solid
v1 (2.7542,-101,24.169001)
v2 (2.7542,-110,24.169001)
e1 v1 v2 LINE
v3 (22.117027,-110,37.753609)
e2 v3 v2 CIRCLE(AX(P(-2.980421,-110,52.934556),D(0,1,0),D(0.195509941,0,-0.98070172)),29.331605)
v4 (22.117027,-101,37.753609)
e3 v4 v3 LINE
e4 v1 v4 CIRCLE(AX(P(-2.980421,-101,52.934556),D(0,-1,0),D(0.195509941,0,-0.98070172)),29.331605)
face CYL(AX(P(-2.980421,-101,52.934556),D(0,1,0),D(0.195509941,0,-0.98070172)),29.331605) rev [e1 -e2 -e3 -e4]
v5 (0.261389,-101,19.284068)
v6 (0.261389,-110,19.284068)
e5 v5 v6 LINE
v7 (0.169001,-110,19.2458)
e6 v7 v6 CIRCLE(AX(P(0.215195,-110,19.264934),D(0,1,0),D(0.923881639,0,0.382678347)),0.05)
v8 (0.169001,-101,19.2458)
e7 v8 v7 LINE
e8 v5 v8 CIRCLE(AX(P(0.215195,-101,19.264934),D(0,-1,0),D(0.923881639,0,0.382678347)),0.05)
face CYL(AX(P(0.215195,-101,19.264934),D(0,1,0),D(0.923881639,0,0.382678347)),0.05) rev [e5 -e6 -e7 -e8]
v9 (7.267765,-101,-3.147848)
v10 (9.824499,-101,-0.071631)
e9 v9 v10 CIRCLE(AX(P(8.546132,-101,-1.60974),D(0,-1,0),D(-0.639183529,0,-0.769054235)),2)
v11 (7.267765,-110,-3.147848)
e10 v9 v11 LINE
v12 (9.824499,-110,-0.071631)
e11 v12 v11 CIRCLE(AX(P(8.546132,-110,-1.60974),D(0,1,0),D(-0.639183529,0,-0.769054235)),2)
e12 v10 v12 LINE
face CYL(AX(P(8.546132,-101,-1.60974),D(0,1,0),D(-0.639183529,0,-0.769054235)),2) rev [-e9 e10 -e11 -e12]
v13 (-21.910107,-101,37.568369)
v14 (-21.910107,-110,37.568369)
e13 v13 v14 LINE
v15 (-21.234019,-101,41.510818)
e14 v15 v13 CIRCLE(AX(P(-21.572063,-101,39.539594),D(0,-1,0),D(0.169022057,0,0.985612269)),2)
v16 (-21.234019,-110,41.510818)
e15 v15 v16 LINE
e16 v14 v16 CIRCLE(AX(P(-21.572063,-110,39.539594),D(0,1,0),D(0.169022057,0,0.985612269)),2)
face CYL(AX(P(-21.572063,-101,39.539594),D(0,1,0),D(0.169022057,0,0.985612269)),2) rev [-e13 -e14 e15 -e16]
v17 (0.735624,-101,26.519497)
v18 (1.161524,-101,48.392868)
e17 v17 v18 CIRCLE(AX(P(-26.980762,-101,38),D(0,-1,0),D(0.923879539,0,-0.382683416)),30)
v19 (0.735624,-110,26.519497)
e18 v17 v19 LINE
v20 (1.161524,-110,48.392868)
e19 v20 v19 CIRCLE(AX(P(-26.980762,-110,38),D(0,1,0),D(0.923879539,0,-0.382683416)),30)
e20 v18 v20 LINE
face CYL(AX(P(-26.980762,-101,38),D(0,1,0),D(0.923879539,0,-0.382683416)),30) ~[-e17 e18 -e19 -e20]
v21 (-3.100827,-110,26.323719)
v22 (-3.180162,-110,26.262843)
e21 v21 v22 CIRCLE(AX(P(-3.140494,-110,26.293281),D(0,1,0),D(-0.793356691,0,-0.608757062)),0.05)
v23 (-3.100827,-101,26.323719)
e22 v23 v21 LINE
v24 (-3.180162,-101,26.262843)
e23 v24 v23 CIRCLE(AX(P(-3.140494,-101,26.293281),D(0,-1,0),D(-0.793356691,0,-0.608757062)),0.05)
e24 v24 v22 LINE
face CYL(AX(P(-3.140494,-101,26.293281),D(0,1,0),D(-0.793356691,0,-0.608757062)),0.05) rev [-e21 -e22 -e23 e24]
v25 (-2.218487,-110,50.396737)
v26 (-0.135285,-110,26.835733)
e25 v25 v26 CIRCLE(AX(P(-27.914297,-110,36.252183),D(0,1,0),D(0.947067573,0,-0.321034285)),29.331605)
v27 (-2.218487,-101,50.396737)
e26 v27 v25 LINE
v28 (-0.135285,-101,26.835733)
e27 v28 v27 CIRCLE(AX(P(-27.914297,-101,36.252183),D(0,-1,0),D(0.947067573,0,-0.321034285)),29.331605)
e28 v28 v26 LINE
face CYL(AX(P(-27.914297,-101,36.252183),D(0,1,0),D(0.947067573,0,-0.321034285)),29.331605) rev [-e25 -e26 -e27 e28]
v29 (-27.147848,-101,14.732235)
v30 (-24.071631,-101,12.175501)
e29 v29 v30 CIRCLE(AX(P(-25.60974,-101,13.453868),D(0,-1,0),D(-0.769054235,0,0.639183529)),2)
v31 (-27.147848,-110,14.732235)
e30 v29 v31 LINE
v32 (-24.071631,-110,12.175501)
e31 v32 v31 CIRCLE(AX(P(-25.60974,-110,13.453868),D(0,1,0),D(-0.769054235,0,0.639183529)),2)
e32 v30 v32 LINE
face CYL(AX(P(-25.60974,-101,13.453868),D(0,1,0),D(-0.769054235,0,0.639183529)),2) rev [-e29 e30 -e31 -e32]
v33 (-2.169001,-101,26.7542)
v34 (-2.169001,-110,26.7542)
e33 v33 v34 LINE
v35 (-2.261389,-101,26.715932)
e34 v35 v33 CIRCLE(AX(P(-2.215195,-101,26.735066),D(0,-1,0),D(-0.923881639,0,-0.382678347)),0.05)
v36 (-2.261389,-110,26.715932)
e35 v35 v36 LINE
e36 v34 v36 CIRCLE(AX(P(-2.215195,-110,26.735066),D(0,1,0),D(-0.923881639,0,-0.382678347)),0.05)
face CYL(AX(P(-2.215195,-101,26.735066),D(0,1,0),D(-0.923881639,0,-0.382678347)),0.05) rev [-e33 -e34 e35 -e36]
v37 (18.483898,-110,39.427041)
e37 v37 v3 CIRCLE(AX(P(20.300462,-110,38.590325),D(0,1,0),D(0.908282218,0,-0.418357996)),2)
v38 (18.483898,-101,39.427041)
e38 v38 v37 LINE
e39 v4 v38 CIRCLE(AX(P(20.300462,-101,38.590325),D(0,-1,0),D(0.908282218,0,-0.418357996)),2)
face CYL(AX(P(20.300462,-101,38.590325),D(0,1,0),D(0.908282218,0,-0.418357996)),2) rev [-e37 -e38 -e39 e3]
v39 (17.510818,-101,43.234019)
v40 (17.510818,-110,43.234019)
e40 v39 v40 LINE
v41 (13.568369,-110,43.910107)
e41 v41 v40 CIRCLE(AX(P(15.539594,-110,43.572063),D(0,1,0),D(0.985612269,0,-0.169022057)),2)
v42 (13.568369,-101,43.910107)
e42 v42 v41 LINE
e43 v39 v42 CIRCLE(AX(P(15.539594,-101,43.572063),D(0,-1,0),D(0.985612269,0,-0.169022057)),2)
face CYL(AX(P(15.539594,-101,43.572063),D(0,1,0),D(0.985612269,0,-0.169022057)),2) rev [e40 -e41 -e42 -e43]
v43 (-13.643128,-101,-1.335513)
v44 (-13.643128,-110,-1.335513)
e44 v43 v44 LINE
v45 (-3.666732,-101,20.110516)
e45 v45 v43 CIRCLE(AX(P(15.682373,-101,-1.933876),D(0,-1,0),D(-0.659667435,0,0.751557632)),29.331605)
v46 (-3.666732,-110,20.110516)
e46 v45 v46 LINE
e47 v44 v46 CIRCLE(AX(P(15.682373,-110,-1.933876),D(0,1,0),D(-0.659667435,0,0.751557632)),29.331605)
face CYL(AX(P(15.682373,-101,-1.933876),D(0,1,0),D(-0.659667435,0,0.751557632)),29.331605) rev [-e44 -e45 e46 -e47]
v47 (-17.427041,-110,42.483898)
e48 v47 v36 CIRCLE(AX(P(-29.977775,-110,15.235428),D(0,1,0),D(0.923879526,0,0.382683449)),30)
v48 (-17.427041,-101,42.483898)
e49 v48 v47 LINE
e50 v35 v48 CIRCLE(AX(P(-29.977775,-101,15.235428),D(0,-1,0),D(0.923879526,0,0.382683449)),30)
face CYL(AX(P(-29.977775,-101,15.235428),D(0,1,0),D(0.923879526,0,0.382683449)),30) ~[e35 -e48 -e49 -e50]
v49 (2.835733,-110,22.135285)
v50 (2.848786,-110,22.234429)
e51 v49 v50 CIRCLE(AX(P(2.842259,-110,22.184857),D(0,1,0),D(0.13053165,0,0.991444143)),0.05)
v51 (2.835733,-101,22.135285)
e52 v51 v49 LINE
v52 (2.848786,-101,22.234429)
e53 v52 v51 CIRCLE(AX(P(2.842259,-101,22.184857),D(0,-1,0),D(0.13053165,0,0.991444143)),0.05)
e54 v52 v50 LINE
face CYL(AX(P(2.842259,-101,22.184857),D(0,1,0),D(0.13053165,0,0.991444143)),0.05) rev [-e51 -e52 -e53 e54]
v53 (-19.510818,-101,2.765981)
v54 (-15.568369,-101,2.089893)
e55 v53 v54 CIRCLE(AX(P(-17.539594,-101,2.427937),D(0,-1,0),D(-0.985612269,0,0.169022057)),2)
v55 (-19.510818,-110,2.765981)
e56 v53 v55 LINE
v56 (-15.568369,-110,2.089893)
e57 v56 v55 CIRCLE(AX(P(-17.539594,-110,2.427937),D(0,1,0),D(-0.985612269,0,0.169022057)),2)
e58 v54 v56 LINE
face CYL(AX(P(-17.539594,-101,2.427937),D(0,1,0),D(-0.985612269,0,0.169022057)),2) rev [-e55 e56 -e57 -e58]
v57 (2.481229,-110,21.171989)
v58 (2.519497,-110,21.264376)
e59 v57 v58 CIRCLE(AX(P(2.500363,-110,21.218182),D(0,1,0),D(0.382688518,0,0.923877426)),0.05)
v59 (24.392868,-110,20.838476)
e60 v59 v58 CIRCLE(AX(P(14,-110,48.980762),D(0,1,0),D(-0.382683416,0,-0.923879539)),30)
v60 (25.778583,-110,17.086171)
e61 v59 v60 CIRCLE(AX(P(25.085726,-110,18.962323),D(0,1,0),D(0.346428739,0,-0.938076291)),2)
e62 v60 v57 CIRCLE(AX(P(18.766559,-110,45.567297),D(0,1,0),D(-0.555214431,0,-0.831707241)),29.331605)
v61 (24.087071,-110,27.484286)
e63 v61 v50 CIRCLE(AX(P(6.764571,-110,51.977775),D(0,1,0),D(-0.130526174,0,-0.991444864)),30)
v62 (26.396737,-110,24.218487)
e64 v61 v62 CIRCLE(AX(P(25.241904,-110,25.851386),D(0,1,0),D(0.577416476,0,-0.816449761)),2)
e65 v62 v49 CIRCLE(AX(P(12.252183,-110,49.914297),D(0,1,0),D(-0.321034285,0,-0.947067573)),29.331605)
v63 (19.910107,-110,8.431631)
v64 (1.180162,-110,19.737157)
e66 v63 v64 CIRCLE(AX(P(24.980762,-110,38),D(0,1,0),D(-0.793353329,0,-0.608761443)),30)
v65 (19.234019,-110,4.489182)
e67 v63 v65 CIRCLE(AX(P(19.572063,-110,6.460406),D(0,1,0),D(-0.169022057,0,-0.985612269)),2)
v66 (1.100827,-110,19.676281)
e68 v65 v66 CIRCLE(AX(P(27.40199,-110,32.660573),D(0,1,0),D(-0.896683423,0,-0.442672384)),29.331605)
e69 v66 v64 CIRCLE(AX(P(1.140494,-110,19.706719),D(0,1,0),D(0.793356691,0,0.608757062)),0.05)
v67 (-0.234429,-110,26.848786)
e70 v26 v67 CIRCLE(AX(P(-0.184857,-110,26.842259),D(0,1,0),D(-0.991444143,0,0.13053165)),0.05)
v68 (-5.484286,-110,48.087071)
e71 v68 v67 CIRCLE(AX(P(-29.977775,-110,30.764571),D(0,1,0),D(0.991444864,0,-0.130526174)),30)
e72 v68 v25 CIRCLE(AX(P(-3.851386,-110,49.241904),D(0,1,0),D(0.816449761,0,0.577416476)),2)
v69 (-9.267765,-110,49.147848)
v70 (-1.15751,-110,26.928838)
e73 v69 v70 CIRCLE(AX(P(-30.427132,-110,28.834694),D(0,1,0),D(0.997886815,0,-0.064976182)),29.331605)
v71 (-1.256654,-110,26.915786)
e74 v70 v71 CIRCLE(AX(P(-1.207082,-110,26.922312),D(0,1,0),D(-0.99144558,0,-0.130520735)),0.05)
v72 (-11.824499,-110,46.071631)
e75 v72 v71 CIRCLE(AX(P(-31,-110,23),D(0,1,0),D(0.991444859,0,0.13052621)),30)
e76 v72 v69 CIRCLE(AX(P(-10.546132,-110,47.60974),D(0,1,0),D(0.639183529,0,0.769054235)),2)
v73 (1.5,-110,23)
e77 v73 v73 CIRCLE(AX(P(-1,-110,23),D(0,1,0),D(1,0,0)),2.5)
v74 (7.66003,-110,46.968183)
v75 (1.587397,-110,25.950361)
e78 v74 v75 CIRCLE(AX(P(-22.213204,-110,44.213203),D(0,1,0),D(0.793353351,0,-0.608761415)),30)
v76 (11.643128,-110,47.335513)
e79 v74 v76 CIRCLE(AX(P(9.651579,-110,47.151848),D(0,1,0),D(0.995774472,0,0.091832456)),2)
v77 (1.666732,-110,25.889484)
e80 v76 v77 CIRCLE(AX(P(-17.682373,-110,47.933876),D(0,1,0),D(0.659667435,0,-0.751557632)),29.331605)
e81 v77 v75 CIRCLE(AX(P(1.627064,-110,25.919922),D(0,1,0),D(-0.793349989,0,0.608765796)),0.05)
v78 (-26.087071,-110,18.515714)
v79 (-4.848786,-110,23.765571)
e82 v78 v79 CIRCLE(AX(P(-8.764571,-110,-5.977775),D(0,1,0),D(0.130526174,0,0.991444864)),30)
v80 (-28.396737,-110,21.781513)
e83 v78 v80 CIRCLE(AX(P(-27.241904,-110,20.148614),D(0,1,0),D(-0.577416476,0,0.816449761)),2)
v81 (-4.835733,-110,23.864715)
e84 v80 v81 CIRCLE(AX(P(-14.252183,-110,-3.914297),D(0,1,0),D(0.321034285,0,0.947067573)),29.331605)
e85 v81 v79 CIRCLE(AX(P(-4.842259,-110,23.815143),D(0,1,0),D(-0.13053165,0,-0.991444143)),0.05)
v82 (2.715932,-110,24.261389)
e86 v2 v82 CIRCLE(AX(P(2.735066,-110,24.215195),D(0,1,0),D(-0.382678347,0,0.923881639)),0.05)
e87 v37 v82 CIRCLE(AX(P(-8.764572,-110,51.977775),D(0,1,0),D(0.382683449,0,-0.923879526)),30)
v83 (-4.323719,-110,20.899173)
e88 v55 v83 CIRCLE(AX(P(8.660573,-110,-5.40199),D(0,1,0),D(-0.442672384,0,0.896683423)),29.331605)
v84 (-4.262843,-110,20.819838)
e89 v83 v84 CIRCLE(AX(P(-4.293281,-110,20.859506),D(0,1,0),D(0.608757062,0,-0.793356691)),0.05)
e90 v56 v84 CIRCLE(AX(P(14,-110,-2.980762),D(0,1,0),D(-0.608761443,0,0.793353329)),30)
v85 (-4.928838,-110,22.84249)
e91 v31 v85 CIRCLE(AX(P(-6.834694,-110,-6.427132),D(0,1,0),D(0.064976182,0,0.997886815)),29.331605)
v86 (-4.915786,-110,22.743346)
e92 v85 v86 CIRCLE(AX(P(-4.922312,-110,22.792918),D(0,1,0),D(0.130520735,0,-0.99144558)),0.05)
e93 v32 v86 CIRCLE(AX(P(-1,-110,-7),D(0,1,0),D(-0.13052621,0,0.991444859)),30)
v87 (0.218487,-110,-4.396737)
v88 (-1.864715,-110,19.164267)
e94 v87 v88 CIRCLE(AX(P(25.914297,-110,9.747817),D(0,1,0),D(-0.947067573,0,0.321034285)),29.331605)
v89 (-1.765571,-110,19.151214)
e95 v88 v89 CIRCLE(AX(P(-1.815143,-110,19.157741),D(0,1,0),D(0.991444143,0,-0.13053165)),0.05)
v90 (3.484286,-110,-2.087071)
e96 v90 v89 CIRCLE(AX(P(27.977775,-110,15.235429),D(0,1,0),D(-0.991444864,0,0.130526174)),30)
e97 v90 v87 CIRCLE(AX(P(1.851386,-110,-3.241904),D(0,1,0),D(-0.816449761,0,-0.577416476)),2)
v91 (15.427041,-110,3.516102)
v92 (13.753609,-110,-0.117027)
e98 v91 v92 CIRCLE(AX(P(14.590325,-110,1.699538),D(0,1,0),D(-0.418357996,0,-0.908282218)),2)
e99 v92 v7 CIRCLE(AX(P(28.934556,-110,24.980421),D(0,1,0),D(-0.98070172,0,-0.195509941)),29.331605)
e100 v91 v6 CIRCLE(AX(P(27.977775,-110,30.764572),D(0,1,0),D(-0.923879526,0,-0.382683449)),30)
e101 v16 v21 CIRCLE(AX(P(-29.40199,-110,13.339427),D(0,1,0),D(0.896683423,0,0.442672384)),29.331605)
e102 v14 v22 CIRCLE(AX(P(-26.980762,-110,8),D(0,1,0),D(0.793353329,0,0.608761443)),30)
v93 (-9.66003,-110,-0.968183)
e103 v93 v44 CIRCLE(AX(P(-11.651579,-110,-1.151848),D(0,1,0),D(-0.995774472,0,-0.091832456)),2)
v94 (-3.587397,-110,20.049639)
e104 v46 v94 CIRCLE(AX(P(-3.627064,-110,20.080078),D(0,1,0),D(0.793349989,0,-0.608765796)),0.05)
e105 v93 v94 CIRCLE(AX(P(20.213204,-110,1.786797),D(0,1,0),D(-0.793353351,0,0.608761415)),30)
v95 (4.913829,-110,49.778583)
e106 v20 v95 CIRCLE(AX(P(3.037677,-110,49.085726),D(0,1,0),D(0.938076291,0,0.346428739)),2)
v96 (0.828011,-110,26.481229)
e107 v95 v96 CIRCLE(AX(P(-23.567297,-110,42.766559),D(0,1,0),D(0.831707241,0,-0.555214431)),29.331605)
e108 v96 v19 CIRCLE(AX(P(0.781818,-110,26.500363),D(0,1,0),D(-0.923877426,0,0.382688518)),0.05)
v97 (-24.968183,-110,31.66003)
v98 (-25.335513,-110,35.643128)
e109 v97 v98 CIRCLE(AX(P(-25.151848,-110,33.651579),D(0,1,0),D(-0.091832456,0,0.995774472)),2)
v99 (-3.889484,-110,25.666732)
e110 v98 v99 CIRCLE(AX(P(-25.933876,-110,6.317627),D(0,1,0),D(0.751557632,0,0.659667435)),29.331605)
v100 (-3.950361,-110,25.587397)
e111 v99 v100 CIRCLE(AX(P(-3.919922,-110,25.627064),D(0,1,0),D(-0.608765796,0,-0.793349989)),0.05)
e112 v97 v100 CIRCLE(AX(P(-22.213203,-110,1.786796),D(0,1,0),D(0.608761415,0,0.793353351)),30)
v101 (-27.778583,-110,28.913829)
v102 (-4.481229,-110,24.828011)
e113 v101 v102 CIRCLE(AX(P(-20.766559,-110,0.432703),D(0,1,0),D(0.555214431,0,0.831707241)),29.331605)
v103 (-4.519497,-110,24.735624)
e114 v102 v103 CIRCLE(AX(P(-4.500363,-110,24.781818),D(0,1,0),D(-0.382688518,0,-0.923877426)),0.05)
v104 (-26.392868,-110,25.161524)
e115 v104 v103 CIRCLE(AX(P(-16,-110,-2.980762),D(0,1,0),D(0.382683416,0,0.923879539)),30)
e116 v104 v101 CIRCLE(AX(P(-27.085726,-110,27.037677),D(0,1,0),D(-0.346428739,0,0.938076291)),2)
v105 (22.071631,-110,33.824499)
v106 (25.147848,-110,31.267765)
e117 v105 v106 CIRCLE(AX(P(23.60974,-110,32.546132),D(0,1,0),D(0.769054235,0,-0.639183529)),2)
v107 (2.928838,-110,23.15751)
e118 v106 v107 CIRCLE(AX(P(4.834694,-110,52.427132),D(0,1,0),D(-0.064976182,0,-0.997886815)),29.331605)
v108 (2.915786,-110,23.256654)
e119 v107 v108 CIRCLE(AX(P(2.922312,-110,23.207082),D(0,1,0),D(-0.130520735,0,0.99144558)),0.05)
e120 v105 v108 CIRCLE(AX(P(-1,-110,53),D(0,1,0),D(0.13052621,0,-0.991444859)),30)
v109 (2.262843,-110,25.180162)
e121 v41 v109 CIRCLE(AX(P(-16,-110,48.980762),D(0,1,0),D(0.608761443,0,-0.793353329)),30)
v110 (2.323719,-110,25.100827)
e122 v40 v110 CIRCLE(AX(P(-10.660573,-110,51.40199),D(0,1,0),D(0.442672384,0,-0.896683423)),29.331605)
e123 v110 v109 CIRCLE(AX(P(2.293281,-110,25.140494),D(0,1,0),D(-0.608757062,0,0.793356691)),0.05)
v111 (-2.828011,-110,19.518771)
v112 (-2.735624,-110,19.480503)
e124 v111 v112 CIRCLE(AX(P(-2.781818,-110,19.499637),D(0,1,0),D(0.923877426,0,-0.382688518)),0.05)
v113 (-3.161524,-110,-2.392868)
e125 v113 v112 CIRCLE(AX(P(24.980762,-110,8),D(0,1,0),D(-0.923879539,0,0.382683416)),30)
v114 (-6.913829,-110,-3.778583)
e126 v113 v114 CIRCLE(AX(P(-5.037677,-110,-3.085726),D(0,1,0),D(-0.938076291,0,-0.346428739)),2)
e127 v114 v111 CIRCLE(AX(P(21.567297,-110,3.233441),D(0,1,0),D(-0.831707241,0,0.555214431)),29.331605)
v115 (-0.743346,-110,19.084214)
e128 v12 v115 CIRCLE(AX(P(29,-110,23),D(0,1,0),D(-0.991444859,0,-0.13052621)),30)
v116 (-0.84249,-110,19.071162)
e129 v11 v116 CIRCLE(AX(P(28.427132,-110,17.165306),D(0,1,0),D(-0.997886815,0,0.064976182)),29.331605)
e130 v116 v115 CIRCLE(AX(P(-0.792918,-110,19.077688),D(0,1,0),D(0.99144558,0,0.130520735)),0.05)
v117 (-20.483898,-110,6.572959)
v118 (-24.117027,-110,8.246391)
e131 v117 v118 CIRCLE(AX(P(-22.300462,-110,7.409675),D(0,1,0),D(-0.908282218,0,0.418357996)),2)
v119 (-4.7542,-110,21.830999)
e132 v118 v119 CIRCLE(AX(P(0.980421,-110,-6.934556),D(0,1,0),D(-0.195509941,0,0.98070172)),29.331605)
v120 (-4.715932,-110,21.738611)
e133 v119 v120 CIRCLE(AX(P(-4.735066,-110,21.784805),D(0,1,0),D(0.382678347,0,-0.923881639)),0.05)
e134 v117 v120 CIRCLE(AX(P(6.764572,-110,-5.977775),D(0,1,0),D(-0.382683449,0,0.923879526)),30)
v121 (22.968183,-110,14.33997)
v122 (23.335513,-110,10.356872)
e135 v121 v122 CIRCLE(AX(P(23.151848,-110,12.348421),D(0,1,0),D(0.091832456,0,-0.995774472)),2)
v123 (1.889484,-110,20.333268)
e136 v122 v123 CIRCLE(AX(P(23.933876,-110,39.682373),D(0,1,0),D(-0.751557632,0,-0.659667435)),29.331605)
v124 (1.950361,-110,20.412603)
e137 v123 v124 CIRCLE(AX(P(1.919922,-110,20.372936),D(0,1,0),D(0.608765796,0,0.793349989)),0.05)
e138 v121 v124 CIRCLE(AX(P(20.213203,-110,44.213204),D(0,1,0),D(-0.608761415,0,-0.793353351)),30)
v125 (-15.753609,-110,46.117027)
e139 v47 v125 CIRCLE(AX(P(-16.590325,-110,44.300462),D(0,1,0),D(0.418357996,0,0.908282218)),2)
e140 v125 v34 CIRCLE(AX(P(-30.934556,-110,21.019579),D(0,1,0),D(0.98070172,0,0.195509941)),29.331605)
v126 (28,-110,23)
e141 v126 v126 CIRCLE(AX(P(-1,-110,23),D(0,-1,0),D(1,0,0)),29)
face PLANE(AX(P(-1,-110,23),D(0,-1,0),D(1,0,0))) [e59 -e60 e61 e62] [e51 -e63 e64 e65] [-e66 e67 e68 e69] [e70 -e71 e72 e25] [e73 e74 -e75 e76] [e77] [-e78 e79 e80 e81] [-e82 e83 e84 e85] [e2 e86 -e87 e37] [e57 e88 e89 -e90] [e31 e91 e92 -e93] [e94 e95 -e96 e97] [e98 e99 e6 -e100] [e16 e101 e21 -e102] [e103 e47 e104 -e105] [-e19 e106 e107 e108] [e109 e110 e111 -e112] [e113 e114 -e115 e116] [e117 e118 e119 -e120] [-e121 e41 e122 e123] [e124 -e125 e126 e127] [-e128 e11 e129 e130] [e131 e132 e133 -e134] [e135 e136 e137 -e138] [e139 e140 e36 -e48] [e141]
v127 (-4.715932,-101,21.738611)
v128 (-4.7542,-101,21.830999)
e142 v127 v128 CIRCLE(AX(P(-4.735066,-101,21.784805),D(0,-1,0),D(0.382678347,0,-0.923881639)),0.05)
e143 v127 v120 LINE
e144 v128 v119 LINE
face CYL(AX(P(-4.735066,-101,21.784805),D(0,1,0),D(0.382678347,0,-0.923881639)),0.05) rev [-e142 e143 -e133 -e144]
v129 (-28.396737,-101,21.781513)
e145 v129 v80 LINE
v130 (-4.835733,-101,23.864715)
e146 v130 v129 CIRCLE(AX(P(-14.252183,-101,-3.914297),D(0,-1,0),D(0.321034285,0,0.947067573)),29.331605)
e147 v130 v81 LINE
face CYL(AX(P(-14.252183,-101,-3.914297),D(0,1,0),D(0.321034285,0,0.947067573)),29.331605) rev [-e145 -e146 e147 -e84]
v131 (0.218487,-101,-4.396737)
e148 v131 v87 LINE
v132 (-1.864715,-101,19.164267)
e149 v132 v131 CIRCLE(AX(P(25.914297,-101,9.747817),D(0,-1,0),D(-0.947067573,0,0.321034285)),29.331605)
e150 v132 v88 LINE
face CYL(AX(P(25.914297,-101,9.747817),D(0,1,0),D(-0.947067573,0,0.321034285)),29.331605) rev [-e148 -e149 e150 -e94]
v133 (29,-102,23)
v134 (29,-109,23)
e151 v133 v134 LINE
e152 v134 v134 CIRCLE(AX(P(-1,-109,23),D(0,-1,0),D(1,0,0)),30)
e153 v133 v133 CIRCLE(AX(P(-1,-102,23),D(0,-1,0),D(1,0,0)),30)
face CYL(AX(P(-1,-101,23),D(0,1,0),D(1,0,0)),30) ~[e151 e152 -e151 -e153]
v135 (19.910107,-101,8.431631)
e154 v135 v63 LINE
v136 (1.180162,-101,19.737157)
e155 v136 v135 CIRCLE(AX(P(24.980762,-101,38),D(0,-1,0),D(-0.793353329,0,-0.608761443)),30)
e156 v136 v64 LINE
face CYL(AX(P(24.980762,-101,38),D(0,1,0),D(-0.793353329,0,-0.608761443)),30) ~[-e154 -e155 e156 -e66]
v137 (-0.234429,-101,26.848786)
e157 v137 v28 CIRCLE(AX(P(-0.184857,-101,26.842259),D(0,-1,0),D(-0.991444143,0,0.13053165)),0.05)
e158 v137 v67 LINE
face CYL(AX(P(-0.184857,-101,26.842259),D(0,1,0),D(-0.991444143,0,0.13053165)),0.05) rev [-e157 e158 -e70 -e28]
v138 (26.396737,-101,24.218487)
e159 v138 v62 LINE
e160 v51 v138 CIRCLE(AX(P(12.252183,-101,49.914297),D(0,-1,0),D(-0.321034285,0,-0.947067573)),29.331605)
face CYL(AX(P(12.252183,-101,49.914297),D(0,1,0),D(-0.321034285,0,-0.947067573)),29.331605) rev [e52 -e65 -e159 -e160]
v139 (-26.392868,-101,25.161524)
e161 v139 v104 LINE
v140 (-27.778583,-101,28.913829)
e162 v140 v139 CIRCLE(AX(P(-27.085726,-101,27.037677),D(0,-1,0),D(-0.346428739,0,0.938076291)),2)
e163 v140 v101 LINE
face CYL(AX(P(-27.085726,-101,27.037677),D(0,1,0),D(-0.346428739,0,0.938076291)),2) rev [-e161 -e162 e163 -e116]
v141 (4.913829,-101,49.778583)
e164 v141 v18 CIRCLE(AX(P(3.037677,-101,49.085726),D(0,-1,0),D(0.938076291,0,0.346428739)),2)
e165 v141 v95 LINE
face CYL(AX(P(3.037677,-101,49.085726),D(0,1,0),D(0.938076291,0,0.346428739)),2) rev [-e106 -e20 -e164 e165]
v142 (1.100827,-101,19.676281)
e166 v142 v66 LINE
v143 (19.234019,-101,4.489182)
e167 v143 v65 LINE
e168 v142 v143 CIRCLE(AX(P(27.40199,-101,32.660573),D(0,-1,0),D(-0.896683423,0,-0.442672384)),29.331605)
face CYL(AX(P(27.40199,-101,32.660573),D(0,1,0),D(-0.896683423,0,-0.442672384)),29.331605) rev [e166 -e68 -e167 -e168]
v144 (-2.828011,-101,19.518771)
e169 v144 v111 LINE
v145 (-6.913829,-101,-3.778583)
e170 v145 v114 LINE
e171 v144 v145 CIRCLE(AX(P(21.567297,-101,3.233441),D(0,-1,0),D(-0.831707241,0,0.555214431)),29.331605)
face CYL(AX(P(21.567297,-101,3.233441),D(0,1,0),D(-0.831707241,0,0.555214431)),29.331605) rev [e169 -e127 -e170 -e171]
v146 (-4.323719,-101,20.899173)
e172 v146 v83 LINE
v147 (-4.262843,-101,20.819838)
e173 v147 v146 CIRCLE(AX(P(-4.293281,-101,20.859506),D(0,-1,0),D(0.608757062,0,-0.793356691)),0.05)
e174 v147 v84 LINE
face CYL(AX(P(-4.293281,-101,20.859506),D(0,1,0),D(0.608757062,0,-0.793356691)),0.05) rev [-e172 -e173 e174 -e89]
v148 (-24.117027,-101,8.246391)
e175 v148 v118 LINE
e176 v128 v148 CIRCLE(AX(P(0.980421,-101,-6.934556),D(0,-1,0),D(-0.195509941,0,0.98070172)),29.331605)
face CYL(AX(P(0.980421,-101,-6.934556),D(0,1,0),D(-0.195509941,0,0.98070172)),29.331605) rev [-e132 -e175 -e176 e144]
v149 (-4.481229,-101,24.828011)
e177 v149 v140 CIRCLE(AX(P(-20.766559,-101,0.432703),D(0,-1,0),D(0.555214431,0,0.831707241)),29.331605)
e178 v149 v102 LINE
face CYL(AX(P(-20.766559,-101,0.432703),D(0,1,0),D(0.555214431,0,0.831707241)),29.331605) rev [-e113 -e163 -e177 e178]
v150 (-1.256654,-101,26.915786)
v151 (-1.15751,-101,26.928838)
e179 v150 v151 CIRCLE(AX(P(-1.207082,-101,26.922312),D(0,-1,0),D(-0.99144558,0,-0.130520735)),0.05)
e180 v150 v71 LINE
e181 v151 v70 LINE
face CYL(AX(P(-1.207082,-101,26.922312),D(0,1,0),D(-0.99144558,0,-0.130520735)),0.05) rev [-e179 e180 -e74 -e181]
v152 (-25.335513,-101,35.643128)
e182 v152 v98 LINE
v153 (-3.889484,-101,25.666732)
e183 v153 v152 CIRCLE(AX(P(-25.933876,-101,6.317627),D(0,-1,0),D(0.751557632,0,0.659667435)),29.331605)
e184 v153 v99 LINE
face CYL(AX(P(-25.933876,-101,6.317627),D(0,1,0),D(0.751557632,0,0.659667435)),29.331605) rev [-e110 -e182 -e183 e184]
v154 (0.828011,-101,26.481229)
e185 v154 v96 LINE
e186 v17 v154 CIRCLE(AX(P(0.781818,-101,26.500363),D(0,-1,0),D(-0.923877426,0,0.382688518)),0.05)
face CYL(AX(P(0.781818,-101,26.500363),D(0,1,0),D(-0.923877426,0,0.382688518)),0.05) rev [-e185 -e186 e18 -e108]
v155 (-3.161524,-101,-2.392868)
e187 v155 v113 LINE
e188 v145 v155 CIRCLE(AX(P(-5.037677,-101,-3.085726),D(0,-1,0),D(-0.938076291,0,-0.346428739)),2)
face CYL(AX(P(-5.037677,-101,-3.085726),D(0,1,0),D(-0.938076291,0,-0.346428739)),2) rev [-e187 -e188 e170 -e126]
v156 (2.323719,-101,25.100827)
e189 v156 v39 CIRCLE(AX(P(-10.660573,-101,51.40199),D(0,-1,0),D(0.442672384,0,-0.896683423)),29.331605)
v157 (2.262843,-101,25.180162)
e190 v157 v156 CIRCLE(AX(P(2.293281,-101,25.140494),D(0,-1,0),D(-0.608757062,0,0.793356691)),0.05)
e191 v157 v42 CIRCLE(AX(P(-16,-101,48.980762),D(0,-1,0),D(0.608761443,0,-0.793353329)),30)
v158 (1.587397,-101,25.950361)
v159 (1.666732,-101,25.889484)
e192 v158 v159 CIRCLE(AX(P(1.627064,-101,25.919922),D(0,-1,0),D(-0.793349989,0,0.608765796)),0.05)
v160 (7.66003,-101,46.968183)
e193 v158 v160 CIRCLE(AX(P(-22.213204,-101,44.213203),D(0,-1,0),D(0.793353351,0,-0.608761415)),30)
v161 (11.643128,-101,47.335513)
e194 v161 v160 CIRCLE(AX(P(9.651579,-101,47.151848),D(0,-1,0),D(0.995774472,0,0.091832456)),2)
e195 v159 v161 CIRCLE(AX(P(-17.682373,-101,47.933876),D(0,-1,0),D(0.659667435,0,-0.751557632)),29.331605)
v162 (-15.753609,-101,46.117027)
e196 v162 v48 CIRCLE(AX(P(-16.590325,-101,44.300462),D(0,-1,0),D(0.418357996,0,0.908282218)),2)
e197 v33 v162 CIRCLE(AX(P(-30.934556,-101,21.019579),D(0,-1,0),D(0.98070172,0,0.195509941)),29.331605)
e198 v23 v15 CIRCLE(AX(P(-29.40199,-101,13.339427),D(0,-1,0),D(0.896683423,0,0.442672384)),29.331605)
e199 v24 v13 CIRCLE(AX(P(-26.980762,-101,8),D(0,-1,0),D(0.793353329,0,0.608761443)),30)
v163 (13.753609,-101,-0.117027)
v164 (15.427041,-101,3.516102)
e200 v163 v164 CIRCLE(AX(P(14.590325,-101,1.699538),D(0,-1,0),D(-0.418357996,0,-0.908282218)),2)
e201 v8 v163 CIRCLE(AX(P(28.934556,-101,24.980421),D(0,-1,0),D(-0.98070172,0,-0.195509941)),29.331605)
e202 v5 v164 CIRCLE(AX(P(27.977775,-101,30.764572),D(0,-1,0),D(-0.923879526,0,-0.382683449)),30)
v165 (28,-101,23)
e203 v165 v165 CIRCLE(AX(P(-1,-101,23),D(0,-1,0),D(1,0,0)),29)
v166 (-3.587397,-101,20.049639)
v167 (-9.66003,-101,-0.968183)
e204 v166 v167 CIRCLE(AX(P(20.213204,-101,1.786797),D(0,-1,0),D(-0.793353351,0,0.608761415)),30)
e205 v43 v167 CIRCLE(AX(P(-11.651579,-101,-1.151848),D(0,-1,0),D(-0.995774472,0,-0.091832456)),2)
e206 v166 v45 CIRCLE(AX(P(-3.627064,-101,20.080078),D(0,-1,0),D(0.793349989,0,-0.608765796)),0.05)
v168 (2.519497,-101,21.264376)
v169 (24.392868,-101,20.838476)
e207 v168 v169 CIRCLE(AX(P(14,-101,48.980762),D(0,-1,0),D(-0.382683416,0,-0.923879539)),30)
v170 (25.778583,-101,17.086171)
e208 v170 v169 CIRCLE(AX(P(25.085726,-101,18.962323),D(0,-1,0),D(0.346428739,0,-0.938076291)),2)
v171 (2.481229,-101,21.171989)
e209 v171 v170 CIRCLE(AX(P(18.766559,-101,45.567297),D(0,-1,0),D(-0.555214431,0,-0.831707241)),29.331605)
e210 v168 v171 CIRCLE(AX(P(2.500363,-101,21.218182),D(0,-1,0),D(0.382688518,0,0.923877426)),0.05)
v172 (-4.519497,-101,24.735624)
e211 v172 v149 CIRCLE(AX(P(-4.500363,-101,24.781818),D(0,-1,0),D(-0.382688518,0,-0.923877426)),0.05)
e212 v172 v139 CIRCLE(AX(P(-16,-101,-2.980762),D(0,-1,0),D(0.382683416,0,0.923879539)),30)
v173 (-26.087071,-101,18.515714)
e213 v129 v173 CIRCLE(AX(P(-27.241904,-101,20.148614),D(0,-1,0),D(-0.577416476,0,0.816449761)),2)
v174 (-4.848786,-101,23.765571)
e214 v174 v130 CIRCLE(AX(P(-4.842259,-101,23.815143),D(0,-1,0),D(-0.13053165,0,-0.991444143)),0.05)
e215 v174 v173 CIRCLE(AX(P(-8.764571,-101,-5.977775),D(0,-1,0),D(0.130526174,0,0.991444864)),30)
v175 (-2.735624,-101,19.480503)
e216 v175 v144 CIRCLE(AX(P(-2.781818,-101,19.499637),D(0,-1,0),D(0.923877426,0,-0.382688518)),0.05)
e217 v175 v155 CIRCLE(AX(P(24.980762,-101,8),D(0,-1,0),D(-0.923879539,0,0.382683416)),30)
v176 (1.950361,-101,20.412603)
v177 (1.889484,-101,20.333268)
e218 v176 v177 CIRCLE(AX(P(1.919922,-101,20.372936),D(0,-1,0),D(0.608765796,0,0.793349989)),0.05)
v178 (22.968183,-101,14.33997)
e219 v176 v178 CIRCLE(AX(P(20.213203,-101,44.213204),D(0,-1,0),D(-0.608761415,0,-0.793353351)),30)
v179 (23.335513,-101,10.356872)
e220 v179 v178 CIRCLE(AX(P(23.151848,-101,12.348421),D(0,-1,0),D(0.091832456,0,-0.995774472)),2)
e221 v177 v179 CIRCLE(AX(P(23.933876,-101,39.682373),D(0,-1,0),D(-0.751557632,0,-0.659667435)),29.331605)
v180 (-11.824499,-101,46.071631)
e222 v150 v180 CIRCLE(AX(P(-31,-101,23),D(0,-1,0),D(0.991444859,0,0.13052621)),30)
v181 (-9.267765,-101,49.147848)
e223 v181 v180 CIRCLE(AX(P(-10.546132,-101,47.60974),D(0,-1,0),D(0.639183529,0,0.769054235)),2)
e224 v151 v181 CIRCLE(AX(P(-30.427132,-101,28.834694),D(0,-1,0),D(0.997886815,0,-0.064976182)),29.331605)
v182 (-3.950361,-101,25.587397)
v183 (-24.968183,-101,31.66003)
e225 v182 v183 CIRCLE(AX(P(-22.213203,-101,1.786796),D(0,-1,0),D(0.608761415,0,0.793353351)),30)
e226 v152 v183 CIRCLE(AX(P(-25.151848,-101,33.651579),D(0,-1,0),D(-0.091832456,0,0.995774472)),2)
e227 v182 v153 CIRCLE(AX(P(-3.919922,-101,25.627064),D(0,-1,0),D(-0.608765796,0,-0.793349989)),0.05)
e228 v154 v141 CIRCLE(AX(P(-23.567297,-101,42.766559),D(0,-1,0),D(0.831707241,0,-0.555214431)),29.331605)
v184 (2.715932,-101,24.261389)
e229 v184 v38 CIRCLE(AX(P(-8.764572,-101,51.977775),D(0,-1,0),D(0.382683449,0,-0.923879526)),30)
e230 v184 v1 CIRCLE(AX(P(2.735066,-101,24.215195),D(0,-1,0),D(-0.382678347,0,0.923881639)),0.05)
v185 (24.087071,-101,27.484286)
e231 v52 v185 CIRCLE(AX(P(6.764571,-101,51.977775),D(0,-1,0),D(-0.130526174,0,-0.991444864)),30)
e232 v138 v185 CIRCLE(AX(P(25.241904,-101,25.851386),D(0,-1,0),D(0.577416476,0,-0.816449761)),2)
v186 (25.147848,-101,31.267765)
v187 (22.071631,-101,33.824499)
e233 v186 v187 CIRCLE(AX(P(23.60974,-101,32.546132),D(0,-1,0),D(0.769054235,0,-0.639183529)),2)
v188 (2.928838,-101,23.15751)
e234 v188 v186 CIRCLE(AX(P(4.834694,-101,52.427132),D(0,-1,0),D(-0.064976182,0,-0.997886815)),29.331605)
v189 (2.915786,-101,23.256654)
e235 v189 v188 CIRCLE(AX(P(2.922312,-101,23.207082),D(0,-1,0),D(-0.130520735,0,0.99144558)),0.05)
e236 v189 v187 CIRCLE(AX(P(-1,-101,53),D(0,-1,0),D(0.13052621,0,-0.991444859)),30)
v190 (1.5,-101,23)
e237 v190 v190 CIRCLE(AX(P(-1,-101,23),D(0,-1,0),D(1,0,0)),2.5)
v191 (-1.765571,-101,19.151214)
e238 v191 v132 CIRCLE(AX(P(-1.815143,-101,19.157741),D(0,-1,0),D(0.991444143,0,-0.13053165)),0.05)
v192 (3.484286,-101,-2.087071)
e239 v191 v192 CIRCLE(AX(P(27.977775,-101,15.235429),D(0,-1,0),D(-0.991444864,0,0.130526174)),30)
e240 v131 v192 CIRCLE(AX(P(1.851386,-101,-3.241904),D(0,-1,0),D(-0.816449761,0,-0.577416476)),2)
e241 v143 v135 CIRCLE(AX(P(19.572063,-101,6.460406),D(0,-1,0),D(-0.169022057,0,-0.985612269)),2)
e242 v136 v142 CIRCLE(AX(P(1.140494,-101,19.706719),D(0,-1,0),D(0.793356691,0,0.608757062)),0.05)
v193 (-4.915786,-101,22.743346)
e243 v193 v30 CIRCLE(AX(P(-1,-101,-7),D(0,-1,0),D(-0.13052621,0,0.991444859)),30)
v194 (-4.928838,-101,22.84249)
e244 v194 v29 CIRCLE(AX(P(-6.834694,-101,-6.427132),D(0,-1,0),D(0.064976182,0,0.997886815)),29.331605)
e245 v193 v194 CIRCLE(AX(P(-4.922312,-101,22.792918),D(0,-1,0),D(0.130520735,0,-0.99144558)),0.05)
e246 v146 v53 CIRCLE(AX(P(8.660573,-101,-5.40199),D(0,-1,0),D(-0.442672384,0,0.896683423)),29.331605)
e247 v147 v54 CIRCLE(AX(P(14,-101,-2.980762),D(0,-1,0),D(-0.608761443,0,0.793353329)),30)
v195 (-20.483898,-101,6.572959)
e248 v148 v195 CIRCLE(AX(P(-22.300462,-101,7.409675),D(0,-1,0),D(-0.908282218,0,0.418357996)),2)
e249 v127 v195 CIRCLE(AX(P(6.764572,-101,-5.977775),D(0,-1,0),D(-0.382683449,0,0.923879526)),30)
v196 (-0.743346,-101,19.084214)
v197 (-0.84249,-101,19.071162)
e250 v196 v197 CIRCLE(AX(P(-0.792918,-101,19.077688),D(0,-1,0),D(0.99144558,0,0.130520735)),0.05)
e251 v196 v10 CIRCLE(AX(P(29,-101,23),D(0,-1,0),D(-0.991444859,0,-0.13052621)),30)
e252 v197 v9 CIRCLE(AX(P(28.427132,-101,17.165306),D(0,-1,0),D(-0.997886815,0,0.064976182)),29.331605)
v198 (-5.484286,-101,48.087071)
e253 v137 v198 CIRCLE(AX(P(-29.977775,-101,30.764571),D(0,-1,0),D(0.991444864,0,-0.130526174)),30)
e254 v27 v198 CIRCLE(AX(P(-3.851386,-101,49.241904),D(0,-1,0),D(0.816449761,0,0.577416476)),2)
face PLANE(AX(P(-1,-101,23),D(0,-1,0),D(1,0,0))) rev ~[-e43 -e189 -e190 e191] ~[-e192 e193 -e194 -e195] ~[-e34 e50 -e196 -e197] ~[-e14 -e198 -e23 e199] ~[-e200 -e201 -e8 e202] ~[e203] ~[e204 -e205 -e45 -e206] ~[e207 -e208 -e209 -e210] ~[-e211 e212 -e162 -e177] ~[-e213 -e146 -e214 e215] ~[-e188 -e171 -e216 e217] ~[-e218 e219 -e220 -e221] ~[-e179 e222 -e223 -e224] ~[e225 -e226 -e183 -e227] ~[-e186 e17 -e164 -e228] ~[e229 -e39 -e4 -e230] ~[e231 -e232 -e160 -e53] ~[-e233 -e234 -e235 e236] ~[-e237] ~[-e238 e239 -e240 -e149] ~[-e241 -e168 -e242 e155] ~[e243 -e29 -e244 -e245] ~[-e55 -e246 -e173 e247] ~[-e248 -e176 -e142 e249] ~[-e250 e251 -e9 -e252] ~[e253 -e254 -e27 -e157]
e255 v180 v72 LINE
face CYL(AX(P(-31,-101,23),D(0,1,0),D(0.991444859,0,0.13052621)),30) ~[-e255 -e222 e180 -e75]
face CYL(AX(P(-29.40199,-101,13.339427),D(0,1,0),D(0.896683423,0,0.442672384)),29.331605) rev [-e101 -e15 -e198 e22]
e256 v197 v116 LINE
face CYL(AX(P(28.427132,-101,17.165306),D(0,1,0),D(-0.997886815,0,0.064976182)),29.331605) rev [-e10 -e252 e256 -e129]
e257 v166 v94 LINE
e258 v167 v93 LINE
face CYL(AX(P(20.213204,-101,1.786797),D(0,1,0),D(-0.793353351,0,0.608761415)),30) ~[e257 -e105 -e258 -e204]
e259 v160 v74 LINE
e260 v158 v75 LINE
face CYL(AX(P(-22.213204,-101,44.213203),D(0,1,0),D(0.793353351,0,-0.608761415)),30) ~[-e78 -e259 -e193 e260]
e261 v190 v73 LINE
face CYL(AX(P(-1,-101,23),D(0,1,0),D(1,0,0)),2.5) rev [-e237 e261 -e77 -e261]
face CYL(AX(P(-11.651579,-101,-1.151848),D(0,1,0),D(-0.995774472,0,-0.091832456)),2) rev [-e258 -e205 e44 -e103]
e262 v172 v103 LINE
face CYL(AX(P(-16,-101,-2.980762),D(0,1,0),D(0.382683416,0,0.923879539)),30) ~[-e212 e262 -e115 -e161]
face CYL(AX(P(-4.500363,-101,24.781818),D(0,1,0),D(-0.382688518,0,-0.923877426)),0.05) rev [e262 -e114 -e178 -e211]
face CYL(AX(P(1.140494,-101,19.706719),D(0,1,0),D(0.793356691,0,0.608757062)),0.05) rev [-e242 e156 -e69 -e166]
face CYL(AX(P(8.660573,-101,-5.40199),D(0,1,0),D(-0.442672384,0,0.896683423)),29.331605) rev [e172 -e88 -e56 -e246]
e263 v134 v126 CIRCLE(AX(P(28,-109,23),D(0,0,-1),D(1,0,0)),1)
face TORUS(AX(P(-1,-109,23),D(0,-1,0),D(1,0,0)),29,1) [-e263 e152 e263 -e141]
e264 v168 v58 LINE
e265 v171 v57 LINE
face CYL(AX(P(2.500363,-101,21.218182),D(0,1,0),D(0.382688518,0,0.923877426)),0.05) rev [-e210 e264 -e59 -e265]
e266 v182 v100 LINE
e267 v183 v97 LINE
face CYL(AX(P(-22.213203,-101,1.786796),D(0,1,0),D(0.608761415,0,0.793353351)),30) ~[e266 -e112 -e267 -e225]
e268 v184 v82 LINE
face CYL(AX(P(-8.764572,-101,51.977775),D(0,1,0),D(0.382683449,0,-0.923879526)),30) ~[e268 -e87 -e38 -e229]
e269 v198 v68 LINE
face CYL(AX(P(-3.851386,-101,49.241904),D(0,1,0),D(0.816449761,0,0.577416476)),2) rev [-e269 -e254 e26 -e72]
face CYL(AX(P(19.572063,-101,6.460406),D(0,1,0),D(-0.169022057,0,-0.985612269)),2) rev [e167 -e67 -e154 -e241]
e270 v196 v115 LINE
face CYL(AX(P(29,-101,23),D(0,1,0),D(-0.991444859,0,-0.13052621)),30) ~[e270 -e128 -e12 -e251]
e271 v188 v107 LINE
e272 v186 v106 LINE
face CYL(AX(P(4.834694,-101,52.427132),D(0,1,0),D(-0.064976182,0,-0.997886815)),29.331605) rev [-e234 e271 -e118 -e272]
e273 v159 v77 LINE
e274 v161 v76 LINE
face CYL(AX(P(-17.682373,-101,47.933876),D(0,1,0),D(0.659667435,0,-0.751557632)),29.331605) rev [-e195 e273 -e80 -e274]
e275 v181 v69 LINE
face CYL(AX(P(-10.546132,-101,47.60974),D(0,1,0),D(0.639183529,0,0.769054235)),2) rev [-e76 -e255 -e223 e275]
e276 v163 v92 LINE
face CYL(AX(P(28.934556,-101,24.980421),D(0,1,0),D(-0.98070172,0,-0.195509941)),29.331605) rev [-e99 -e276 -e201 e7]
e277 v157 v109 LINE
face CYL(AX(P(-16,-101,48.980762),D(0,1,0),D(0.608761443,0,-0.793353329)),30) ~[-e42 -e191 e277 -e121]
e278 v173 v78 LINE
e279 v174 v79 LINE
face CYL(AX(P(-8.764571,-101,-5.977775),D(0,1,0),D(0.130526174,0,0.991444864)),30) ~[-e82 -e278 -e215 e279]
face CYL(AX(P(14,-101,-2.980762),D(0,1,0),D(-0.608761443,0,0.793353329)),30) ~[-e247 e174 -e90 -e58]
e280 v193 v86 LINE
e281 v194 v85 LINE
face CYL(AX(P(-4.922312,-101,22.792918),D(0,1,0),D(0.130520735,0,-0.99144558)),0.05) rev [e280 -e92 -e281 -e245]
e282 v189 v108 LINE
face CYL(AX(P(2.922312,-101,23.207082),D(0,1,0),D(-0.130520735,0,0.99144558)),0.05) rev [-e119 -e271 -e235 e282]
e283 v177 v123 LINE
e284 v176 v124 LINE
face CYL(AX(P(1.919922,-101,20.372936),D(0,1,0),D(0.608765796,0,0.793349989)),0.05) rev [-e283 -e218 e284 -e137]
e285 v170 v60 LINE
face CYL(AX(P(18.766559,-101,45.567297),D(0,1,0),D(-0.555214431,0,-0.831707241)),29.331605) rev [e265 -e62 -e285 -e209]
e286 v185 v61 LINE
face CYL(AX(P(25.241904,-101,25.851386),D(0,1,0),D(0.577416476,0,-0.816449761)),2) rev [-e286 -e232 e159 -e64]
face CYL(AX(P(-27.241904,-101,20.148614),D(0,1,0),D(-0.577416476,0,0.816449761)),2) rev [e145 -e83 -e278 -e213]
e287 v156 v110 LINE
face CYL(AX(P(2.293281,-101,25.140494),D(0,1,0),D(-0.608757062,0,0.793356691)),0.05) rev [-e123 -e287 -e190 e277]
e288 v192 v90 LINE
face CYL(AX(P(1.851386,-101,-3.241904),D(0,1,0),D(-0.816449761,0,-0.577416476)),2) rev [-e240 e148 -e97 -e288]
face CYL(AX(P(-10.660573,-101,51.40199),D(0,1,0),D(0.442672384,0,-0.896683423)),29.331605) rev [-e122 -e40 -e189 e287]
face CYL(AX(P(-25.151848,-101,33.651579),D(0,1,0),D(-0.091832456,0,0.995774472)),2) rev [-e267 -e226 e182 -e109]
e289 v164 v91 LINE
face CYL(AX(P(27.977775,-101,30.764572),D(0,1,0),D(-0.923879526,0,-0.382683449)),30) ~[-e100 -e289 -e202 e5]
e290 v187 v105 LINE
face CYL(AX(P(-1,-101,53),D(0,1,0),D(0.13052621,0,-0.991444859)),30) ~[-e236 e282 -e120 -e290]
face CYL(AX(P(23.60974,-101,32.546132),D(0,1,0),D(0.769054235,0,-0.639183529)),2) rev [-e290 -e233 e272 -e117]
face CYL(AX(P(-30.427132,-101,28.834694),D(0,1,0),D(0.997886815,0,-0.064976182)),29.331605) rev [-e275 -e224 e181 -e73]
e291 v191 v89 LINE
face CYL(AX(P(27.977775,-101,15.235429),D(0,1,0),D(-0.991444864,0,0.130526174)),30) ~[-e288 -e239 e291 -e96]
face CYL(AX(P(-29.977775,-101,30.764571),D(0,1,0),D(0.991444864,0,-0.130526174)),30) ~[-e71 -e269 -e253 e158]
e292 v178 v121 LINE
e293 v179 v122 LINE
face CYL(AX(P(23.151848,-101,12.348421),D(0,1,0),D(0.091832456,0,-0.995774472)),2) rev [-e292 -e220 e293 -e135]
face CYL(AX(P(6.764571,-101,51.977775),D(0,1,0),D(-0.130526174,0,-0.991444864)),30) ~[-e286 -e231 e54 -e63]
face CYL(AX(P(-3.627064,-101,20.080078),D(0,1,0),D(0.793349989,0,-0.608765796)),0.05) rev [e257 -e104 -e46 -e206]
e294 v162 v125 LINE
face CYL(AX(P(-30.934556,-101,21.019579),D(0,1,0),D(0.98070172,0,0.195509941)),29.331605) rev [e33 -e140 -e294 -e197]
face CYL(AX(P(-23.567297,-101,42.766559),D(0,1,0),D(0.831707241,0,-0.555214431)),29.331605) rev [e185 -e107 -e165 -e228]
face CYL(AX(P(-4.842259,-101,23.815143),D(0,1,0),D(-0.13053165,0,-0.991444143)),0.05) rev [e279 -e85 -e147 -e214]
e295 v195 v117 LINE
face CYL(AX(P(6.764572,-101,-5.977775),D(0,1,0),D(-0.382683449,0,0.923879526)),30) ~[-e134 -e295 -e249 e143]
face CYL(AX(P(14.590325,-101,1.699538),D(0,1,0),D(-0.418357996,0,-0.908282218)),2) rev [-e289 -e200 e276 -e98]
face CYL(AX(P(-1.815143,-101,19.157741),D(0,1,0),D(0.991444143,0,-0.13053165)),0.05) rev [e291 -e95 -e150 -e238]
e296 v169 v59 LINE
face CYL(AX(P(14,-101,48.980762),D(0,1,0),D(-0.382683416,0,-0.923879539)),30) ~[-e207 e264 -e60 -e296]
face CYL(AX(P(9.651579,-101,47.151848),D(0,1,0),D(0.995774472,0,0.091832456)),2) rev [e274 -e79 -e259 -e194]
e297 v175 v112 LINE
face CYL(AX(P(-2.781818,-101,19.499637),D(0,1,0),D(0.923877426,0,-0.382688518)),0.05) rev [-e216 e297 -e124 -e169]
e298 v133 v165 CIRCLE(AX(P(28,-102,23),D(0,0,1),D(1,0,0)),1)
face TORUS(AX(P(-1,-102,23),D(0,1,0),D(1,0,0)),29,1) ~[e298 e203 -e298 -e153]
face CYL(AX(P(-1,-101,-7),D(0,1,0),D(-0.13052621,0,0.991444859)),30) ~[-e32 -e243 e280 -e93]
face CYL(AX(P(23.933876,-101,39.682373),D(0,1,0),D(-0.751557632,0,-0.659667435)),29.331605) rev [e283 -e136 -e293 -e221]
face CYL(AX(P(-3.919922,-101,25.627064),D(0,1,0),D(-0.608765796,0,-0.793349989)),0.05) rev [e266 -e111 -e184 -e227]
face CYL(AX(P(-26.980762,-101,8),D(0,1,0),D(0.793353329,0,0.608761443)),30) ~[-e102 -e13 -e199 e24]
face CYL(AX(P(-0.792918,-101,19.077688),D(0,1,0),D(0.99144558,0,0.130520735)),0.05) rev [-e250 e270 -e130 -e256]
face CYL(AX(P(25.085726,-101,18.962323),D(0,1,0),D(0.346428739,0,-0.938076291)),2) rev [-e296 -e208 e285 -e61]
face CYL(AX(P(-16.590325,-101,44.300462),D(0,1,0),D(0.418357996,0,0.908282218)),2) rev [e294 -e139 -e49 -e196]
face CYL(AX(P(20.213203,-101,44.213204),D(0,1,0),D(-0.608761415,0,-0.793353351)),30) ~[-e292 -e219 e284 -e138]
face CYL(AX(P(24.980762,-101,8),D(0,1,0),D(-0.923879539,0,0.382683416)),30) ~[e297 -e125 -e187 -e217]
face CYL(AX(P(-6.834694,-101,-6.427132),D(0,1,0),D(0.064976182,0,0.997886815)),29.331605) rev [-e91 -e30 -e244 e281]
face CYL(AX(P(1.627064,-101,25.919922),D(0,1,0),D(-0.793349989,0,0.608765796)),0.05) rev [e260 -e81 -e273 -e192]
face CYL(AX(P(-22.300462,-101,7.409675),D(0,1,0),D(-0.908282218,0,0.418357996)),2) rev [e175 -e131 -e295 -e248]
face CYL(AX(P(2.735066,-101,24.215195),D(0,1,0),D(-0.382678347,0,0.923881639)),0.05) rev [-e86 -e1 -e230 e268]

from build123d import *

# Parameters (mm, degrees)
SKETCH059_R        = 30
PAD036_DEPTH       = 9
POCKET022_DEPTH    = 100
POLARPATTERN_COUNT = 24
SKETCH061_R        = 2.5
POCKET023_DEPTH    = 100
FILLET_R           = 1


with BuildPart() as part:
    # Sketch059 → Pad036 (new body)
    with BuildSketch(Plane.XZ):
        Circle(SKETCH059_R)
    extrude(amount=PAD036_DEPTH)

    # Sketch060 → Pocket022 (cut)
    with BuildSketch(Plane.XZ):
        with BuildLine():
            ThreePointArc((0.256654, -3.915786), (3.732149, -14.491377), (10.824499, -23.071631))
            ThreePointArc((8.267765, -26.147848), (11.084241, -25.888106), (10.824499, -23.071631))
            ThreePointArc((0.15751, -3.928838), (1.873696, -15.89209), (8.267765, -26.147848))
            ThreePointArc((0.256654, -3.915786), (0.200556, -3.87274), (0.15751, -3.928838))
        make_face()
    pocket022 = extrude(amount=POCKET022_DEPTH, mode=Mode.SUBTRACT)

    # PolarPattern: Pocket022 ×24 about axis
    polarpattern_axis = Axis((0, 0, 0), (0, -1, 0))
    for i in range(1, POLARPATTERN_COUNT):
        add(pocket022.rotate(polarpattern_axis, i * 360 / POLARPATTERN_COUNT), mode=Mode.SUBTRACT)

    # Sketch061 → Pocket023 (cut)
    with BuildSketch(Plane.XZ):
        Circle(SKETCH061_R)
    extrude(amount=POCKET023_DEPTH, mode=Mode.SUBTRACT)

    # Fillet
    fillet_edges = [part.edges().sort_by_distance(p)[0] for p in [
        (-30, 0, 0),
        (-30, -9, 0),
    ]]
    fillet(fillet_edges, radius=FILLET_R)


with BuildPart() as part_1:
    # Body016 placement: moved
    add(part.part.moved(Location((-1, -101, 23))))


solid = part_1.part
